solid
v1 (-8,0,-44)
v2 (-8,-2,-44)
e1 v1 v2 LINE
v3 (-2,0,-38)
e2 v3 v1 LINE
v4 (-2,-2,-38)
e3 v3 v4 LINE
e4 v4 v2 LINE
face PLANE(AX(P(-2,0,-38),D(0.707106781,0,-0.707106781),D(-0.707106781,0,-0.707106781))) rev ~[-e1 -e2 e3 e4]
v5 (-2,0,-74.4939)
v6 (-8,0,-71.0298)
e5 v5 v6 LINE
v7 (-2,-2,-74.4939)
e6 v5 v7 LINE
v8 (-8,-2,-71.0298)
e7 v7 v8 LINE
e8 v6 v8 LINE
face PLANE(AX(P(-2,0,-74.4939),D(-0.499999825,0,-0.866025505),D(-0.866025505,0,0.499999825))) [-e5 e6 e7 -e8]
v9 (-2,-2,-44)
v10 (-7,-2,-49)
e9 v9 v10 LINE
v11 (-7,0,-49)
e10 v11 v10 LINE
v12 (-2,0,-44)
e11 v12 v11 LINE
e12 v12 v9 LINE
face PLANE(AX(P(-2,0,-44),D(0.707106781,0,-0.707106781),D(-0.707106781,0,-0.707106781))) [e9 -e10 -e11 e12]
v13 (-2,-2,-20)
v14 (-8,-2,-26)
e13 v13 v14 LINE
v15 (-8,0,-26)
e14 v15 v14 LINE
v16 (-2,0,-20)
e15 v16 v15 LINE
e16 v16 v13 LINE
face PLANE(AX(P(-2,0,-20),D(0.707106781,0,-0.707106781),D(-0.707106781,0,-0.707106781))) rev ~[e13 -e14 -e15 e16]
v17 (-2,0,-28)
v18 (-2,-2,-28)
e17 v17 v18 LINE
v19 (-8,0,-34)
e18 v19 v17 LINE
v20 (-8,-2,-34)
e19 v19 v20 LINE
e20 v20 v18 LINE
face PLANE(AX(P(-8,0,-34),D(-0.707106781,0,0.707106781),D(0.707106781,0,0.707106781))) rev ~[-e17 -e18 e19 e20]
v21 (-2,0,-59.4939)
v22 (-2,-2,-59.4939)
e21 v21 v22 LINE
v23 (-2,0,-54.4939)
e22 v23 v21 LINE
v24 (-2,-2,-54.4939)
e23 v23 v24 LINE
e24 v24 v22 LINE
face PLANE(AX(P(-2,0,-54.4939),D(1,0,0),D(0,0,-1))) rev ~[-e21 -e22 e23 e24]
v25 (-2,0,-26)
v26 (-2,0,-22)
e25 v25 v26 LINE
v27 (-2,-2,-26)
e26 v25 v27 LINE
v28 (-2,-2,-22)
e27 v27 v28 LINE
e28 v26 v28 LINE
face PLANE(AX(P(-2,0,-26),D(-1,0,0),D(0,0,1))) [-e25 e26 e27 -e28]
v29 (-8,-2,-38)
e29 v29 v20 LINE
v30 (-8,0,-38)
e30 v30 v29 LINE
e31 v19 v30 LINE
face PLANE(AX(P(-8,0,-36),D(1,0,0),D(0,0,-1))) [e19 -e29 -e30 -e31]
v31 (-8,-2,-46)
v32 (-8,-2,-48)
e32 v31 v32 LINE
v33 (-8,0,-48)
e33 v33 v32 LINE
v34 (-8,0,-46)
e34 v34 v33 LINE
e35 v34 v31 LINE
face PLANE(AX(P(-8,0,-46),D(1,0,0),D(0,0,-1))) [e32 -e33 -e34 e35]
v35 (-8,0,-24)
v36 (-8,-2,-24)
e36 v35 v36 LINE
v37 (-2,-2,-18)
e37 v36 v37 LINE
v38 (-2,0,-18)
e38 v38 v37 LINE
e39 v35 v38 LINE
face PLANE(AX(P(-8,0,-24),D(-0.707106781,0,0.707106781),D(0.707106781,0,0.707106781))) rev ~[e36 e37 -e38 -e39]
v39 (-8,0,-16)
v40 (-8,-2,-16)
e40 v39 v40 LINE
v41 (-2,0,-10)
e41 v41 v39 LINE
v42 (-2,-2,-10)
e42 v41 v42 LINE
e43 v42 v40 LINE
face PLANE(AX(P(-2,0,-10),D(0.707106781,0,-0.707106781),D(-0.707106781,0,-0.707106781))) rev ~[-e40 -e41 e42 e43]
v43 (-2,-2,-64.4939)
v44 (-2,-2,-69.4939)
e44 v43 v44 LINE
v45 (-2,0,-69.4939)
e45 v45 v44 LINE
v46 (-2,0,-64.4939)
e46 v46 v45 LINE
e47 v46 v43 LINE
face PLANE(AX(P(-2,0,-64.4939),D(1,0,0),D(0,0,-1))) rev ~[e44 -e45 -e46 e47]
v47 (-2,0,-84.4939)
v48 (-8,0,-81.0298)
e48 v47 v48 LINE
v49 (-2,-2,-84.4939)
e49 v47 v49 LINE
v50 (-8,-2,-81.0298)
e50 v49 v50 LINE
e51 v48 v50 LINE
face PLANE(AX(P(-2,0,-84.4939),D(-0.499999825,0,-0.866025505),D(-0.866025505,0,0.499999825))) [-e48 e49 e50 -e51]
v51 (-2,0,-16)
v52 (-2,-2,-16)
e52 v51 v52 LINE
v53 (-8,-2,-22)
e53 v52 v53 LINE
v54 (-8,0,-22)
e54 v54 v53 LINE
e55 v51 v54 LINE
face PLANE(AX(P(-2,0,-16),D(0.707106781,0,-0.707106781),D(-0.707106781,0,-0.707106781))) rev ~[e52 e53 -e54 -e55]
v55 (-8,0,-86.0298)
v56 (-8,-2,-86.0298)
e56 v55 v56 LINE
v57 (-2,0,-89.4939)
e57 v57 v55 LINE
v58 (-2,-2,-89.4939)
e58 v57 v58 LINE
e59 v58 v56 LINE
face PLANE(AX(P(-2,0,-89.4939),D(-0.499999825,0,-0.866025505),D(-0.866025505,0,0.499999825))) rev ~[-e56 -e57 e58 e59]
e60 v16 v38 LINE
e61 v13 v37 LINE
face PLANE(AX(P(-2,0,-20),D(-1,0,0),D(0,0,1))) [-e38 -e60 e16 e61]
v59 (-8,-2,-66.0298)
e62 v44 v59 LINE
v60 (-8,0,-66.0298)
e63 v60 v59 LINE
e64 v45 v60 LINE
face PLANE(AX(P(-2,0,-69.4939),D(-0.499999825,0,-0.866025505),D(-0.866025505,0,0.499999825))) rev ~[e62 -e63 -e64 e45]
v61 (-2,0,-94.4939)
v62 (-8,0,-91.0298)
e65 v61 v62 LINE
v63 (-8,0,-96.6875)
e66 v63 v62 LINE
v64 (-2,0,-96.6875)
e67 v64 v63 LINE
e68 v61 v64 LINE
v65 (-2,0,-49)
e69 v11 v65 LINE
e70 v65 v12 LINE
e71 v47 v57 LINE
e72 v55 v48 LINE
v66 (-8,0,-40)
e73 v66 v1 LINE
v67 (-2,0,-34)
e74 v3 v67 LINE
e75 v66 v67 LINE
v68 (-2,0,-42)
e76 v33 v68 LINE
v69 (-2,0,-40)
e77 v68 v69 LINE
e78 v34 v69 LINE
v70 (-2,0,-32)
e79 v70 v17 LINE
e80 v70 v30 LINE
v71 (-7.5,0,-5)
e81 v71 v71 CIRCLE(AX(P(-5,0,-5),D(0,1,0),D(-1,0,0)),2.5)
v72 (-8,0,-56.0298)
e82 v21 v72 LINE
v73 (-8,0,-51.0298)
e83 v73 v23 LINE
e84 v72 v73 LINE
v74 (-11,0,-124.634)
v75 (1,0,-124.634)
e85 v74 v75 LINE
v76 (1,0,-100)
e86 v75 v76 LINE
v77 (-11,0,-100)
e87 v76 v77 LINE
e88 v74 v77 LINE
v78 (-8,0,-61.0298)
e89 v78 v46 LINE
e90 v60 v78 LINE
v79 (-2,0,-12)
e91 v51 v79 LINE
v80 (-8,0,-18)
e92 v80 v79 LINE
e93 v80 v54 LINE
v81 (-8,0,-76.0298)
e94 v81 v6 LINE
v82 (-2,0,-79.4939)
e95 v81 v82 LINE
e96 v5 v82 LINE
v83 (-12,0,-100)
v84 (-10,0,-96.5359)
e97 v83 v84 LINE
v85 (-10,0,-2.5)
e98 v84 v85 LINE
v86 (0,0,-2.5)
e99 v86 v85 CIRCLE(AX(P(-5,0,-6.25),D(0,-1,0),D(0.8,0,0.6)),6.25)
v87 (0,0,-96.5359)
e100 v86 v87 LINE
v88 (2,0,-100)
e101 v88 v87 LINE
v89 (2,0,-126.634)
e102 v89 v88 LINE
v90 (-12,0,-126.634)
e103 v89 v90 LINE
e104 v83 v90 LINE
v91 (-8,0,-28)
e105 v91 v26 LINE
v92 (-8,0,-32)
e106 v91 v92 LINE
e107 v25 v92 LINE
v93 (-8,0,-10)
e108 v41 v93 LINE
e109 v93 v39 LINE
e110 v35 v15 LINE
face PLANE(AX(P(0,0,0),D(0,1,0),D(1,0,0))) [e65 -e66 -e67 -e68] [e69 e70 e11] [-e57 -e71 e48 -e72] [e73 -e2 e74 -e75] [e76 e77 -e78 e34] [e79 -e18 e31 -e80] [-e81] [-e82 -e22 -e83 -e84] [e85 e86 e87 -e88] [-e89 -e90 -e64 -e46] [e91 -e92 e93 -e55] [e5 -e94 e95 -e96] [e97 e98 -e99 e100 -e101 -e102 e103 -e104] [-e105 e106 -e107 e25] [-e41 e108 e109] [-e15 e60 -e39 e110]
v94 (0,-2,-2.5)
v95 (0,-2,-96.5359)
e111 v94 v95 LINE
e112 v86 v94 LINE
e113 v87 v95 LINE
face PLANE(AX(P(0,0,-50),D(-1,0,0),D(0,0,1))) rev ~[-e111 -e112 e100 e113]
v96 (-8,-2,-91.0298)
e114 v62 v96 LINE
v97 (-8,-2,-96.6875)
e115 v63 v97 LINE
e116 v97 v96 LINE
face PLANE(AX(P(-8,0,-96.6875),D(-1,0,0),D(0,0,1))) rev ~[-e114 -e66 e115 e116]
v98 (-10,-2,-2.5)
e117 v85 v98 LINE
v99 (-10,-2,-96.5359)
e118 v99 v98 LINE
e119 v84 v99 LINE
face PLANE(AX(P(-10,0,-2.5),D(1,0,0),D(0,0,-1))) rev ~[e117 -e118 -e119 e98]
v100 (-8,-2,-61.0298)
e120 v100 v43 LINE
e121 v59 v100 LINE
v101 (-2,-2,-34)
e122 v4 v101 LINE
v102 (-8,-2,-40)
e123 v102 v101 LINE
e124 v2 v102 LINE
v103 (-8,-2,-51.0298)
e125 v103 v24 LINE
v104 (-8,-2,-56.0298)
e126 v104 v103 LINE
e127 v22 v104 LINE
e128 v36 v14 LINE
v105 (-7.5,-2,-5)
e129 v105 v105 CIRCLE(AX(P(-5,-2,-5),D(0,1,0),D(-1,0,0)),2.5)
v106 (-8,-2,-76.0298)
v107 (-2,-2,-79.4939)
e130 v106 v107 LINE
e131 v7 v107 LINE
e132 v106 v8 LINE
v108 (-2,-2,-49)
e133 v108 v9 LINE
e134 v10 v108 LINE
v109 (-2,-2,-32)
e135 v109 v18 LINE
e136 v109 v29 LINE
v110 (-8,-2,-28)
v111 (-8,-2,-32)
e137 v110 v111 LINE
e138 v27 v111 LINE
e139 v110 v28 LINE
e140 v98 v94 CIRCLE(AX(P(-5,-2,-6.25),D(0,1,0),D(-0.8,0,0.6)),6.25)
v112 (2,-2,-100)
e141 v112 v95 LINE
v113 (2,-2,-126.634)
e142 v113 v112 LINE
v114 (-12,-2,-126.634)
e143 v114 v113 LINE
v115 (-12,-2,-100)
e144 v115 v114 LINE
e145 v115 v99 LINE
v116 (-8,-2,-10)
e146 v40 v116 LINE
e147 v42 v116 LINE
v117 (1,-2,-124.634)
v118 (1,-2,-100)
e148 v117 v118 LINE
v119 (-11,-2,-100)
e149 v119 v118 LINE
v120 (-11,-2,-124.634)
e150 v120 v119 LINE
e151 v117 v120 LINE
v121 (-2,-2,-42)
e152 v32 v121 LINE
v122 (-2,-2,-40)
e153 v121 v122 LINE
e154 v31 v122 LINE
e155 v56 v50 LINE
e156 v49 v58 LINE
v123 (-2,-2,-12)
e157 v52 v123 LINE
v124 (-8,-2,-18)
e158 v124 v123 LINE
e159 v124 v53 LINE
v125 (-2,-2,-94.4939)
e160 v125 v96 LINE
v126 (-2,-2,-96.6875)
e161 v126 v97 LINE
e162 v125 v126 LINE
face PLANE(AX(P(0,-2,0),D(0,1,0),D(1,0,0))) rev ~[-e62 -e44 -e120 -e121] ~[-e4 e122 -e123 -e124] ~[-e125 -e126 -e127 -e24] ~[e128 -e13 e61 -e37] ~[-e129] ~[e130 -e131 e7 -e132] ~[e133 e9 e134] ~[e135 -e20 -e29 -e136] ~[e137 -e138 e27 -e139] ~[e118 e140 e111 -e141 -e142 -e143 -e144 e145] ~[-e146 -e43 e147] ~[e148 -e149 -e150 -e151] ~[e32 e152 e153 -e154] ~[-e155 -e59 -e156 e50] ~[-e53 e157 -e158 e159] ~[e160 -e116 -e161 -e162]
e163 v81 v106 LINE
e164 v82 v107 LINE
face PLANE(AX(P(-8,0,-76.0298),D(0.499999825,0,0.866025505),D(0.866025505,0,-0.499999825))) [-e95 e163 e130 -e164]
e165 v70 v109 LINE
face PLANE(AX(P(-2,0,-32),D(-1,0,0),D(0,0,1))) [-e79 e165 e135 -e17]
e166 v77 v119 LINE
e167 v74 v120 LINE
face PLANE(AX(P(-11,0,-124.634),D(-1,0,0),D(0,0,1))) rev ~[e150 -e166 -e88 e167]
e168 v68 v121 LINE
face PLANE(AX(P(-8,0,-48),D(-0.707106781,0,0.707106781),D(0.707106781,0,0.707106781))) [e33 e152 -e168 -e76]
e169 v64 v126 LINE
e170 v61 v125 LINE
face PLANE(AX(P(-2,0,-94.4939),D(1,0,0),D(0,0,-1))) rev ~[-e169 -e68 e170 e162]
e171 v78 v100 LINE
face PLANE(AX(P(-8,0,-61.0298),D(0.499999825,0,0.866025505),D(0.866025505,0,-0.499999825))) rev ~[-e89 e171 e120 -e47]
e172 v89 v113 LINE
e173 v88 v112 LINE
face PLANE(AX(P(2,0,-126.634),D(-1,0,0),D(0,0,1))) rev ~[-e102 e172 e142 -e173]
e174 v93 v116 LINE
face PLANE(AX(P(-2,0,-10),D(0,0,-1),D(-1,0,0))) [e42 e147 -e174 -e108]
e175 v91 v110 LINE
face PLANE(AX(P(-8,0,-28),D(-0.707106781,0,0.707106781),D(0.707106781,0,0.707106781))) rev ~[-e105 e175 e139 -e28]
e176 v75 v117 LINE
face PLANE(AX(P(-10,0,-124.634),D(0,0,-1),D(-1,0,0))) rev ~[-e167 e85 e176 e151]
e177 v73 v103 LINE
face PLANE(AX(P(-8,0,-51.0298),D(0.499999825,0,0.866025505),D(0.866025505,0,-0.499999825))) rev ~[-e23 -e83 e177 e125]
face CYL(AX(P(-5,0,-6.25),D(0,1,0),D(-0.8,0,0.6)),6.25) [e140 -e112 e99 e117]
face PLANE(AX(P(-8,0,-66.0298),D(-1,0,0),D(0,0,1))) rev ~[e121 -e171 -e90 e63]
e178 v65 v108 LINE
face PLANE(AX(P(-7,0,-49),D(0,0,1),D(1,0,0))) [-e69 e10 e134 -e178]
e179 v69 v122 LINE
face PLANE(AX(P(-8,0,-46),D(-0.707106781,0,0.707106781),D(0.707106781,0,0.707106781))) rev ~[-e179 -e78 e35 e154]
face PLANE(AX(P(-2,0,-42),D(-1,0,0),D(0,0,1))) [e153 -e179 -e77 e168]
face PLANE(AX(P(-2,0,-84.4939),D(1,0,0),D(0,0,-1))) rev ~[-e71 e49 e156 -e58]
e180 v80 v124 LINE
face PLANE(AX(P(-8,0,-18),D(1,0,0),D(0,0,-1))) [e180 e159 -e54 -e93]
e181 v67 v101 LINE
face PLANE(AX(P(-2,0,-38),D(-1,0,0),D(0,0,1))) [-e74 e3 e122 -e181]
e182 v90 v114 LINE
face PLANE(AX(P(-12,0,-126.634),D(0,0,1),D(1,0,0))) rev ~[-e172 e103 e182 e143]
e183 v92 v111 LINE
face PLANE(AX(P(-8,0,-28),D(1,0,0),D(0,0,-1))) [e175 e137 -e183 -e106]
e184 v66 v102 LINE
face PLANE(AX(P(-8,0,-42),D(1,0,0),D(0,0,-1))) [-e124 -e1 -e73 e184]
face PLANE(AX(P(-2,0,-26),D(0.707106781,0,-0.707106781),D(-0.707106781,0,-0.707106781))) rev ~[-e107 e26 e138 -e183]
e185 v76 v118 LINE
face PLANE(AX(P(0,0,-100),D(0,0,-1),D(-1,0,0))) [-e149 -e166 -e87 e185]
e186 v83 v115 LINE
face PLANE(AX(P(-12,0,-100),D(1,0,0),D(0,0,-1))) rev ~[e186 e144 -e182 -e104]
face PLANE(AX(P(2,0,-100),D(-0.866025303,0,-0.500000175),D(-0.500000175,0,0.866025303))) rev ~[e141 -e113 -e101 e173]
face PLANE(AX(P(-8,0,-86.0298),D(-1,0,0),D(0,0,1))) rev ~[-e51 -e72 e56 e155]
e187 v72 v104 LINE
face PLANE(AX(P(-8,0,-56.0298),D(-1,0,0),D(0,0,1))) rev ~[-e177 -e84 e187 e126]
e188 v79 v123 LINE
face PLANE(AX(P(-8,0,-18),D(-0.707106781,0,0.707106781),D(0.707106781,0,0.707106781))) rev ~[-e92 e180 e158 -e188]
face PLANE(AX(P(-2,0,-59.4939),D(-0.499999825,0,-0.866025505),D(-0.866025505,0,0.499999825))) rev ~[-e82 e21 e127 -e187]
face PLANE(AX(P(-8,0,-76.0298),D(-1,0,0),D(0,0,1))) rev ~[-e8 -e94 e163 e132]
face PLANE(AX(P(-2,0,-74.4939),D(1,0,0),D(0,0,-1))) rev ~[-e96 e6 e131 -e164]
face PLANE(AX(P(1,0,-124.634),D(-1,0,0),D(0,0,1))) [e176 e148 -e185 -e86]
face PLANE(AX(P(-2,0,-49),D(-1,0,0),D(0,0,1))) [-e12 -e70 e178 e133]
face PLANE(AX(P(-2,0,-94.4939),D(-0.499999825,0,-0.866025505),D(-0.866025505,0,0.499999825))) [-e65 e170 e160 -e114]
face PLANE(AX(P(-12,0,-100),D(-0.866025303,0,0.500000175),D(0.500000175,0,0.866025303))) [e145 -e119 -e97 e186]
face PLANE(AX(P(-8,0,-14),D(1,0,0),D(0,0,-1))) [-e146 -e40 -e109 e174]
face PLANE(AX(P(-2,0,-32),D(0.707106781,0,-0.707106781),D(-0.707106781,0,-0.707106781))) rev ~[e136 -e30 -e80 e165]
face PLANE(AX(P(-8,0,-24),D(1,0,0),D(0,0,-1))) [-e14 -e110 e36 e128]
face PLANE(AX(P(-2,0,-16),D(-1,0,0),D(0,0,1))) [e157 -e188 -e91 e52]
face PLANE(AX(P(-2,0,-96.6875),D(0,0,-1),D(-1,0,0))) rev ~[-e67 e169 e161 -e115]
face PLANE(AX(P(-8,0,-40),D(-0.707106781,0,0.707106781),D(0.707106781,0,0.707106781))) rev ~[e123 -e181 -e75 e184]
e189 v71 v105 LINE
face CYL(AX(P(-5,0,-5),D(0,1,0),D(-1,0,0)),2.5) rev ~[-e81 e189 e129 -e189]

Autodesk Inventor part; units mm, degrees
ref_plane "YZ Plane" through (0, 0, 0) normal (1, 0, 0) x (0, 1, 0)
ref_plane "XZ Plane" through (0, 0, 0) normal (0, 1, 0) x (-1, 0, 0)
ref_plane "XY Plane" through (0, 0, 0) normal (0, 0, 1) x (1, 0, 0)
sketch "Szkic3" plane through (0, 0, 0) normal (0, 1, 0) x (-1, 0, 0)
  line L0 (0, 0) -> (10, 0)
  line L1 (10, 0) -> (10, -50)
  line L2 (10, -50) -> (0, -50)
  line L3 (0, -50) -> (0, 0)
  circle A0 centre (5, -5) radius 2.5
  arc A1 (10, -2.5) -> (0, -2.5) centre (5, -6.25) ccw
  line L4 (8, -50) -> (2, -50)
  line L5 (2, -50) -> (2, -10)
  line L6 (2, -10) -> (8, -10)
  line L7 (8, -10) -> (8, -50)
  line L8 (2, -10) -> (8, -16)
  line L9 (2, -10) -> (10.4853, -10) construction
  line L10 (8, -16) -> (8, -18)
  line L11 (8, -18) -> (2, -12)
  line L12 (2, -10) -> (2, -12)
  line L13 (8, -18) -> (8, -22)
  line L14 (2, -16) -> (8, -22)
  line L15 (8, -24) -> (2, -18)
  line L16 (8, -16) -> (8, -14)
  line L17 (8, -24) -> (8, -26)
  line L18 (2, -20) -> (8, -26)
  line L19 (8, -28) -> (2, -22)
  line L20 (8, -28) -> (8, -32)
  line L21 (2, -26) -> (8, -32)
  line L22 (8, -34) -> (2, -28)
  line L23 (8, -34) -> (8, -36)
  line L24 (2, -26) -> (8, -32)
  line L25 (8, -34) -> (2, -28)
  line L26 (8, -34) -> (8, -38)
  line L27 (2, -32) -> (8, -38)
  line L28 (8, -40) -> (2, -34)
  line L29 (8, -40) -> (8, -42)
  line L30 (2, -32) -> (8, -38)
  line L31 (8, -40) -> (2, -34)
  line L32 (8, -40) -> (8, -44)
  line L33 (2, -38) -> (8, -44)
  line L34 (8, -46) -> (2, -40)
  line L35 (8, -46) -> (8, -48)
  line L36 (2, -38) -> (8, -44)
  line L37 (8, -46) -> (2, -40)
  line L38 (8, -46) -> (8, -50)
  line L39 (8, -46) -> (8, -48)
  line L40 (8, -48) -> (2, -42)
  line L41 (2, -42) -> (2, -44)
  line L42 (2, -44) -> (8, -50)
  line L43 (7, -49) -> (2, -49)
  circle A2 centre (5, -5) radius 3.25
  dimension "d9" = 10
  dimension "d10" = 50
  dimension "d11" = 5
  dimension "d12" = 6
  dimension "d13" = 40
  dimension "d14" = 45
  dimension "d15" = 2
  dimension "d16" = 4
  dimension "d17" = 2
  dimension "d18" = 2
  dimension "d19" = 2
  dimension "d20" = 2
  dimension "d21" = 4
  dimension "d22" = 2
  dimension "d23" = 2
  dimension "d24" = 2
  dimension "d25" = 4
  dimension "d26" = 2
  dimension "d27" = 2
  dimension "d28" = 2
  dimension "d29" = 4
  dimension "d30" = 2
  dimension "d32" = 2
  dimension "d36" = 2
  dimension "d37" = 2
  dimension "d42" = 6.5
extrude "Wyciągnięcie proste2" add sketch "Szkic3" against normal blind 2 contours A1 L1 L2 L7 L6 L5 L3 | L5 L43 L42 L2 | L42 L5 L40 L7 | L34 L5 L33 L7 | L28 L5 L27 L7 | L5 L21 L7 L22 | L5 L18 L7 L19 | L5 L14 L7 L15 | L5 L8 L7 L11 | A2
ref_plane "Płaszczyzna konstrukcyjna1" through (0, 0, -50) normal (0, 0, -1) x (-1, 0, 0)
mirror "Odbij1" about plane through (0, 0, -50) normal (0, 0, -1) of "Wyciągnięcie proste2"
sketch "Szkic4" plane through (0, 0, 0) normal (0, 1, 0) x (1, 0, 0)
  line L0 (-7.5, 91.0504) -> (-2.5, 91.0504)
  line L1 (-2.5, 91.0504) -> (-2.5, 98.6571)
  line L2 (-2.5, 98.6571) -> (-7.5, 98.6571)
  line L3 (-7.5, 98.6571) -> (-7.5, 91.0504)
  point P0 (0, 0)
extrude "Wyciągnięcie proste3" cut sketch "Szkic4" against normal blind 2
sketch "Szkic5" plane through (0, 0, 0) normal (0, 1, 0) x (1, 0, 0)
  line L0 (-10, 2.5) -> (-10, 97.5) projected
  line L1 (-10, 97.5) -> (-10, 67.5)
  line L2 (-10, 67.5) -> (-13, 67.5)
  line L3 (-13, 67.5) -> (-13, 97.5)
  line L4 (-13, 97.5) -> (-10, 97.5)
  arc A0 (0, 97.5) -> (-10, 97.5) centre (-5, 93.75) ccw projected
  line L5 (-5, 100) -> (-5, 49.8742)
  line L6 (-5, 100) -> (45.1258, 100) construction
  line L7 (-13, 67.5) -> (-10, 62.3038)
  line L8 (-13, 67.5) -> (-7, 67.5) construction
  line L9 (-10, 62.3038) -> (-10, 67.5)
  line L10 (0, 2.5) -> (0, 97.5)
  line L11 (0, 67.5) -> (3, 67.5)
  line L12 (3, 67.5) -> (3, 97.5)
  line L13 (3, 97.5) -> (0, 97.5)
  line L14 (3, 67.5) -> (0, 62.3038)
  arc A1 (3, 97.5) -> (-13, 97.5) centre (-5, 94.4495) ccw
  point P0 (0, 0)
  dimension "d43" = 30
  dimension "d44" = 3
  dimension "d45" = 90
  dimension "d46" = 60
extrude "Wyciągnięcie proste4" add sketch "Szkic5" against normal blind 2
sketch "Szkic6" plane through (0, 0, 0) normal (0, 1, 0) x (1, 0, 0)
  line L0 (-10, 62.3038) -> (-10, 2.5) projected
  line L1 (-10, 62.3038) -> (-10, 97.356)
  line L2 (-10, 97.356) -> (0, 97.356)
  line L3 (0, 97.356) -> (0, 62.3038)
  line L4 (0, 62.3038) -> (-10, 62.3038)
  point P0 (0, 0)
extrude "Wyciągnięcie proste5" cut sketch "Szkic6" against normal blind 2
sketch "Szkic7" plane through (0, 0, 0) normal (0, 1, 0) x (1, 0, 0)
  line L0 (-10, 62.3038) -> (-8, 62.3038) projected
  line L1 (-10, 62.3038) -> (-10, 67.4287)
  line L2 (-10, 62.3038) -> (-10, 97.356) projected
  line L3 (-10, 67.4287) -> (0, 67.4287)
  line L4 (0, 62.3038) -> (0, 97.356) projected
  line L5 (0, 62.3038) -> (0, 67.4287)
  line L6 (0, 62.3038) -> (-2, 62.3038) projected
  line L7 (-10, 2.5) -> (-10, 62.3038) projected
  line L8 (0, 62.3038) -> (-10, 62.3038)
  line L9 (-10, 62.3038) -> (-10, 61.2351)
  line L10 (-10, 61.2351) -> (0, 61.2351)
  line L11 (0, 61.2351) -> (0, 62.3038)
  line L12 (-10, 61.2351) -> (0, 61.2351)
  line L13 (0, 2.5) -> (0, 62.3038) projected
  line L14 (0, 61.2351) -> (0, 67.4287)
  line L15 (0, 67.4287) -> (-10, 67.4287)
  line L16 (-10, 61.2351) -> (-10, 67.4287)
  point P0 (0, 0)
extrude "Wyciągnięcie proste6" add sketch "Szkic7" against normal blind 2
sketch "Szkic8" plane through (0, 0, 0) normal (0, 1, 0) x (1, 0, 0)
  line L0 (-7.5, 97.356) -> (-10, 97.356) projected
  line L1 (-10, 97.356) -> (-11, 97.356)
  line L2 (-11, 97.356) -> (-11, 67.4287)
  line L3 (-11, 67.4287) -> (-10, 67.4287)
  line L4 (-10, 67.4287) -> (-10, 97.356)
  line L5 (0, 97.356) -> (1, 97.356)
  line L6 (1, 97.356) -> (1, 67.4287)
  line L7 (1, 67.4287) -> (0, 67.4287)
  line L8 (0, 67.4287) -> (0, 97.356)
  line L9 (-11, 67.4287) -> (1, 67.4287)
  line L10 (1, 67.4287) -> (1, 72.7222)
  line L11 (1, 72.7222) -> (-11, 72.7222)
  line L12 (-11, 72.7222) -> (-11, 67.4287)
  point P0 (0, 0)
  point P1 (0, 72.7222)
  point P2 (-10, 72.7222)
  dimension "d53" = 1
  dimension "d54" = 1
extrude "Wyciągnięcie proste7" cut sketch "Szkic8" against normal blind 2 contours L4 L11 L2 L1 | L8 L5 L6 L11
sketch "Szkic9" plane through (0, 0, 0) normal (0, 1, 0) x (1, 0, 0)
  line L0 (-10, 72.7222) -> (0, 72.7222)
  line L1 (0, 72.7222) -> (0, 67.3617)
  line L2 (0, 67.3617) -> (-10, 67.3617)
  line L3 (-10, 67.3617) -> (-10, 72.7222)
  point P0 (0, 0)
extrude "Wyciągnięcie proste8" add sketch "Szkic9" against normal blind 2
sketch "Szkic10" plane through (0, 0, 0) normal (0, 1, 0) x (1, 0, 0)
  point P0 (0, 0)
split "Podział1" plane through (0, 0, -50) removes the side toward (0, 0, -1)
sketch "Szkic11" plane through (0, 0, 0) normal (0, 1, 0) x (1, 0, 0)
  line L0 (-10, 2.5) -> (-10, 50) projected
  line L1 (-10, 50) -> (0, 50)
  line L2 (0, 50) -> (0, 100)
  line L3 (0, 100) -> (-10, 100)
  line L4 (-10, 100) -> (-10, 50)
  line L5 (-10, 100) -> (0, 100)
  line L6 (0, 100) -> (0, 124.634)
  line L7 (0, 124.634) -> (-10, 124.634)
  line L8 (-10, 124.634) -> (-10, 100)
  line L9 (-10, 124.634) -> (-11, 124.634)
  line L10 (-11, 124.634) -> (-11, 100)
  line L11 (-11, 100) -> (-10, 100)
  line L12 (-10, 100) -> (-10, 124.634)
  line L13 (0, 124.634) -> (1, 124.634)
  line L14 (1, 124.634) -> (1, 100)
  line L15 (1, 100) -> (0, 100)
  line L16 (0, 100) -> (0, 124.634)
  line L17 (-11, 100) -> (-9, 100) construction
  line L18 (1, 100) -> (3, 100) construction
  line L19 (-11, 124.634) -> (1, 124.634)
  line L20 (1, 124.634) -> (1, 126.634)
  line L21 (1, 126.634) -> (-11, 126.634)
  line L22 (-11, 126.634) -> (-11, 124.634)
  line L23 (-11, 100) -> (-12, 100)
  line L24 (-12, 100) -> (-12, 126.634)
  line L25 (-12, 126.634) -> (-11, 126.634)
  line L26 (-11, 126.634) -> (-11, 100)
  line L27 (1, 126.634) -> (2, 126.634)
  line L28 (2, 126.634) -> (2, 100)
  line L29 (2, 100) -> (1, 100)
  line L30 (1, 100) -> (1, 126.634)
  line L31 (-12, 100) -> (-10, 96.5359)
  line L32 (-12, 100) -> (-8, 100) construction
  line L33 (2, 100) -> (0, 96.5359)
  line L34 (2, 100) -> (6, 100) construction
  point P0 (0, 0)
  dimension "d59" = 10
  dimension "d60" = 50
  dimension "d61" = 10
  dimension "d62" = 24.634
  dimension "d63" = 1
  dimension "d64" = 1
  dimension "d67" = 2
  dimension "d68" = 1
  dimension "d69" = 1
  dimension "d70" = 60
  dimension "d71" = 120
extrude "Wyciągnięcie proste9" add sketch "Szkic11" against normal blind 2 contours L4 L3 L2 L1 | L31 L23 L11 L4 | L2 L15 L29 L33 | L24 L25 L22 L10 L23 | L29 L14 L20 L27 L28 | L9 L22 L21 L20 L13 L7
sketch "Szkic12" plane through (0, 0, 0) normal (0, 1, 0) x (1, 0, 0)
  line L0 (-8, 51.0298) -> (-2, 51.0298)
  line L1 (-2, 51.0298) -> (-2, 96.6875)
  line L2 (-2, 96.6875) -> (-8, 96.6875)
  line L3 (-8, 96.6875) -> (-8, 51.0298)
  line L4 (-8, 51.0298) -> (-2, 54.4939)
  line L5 (-8, 51.0298) -> (-1.0718, 51.0298) construction
  line L6 (-2, 54.4939) -> (-2, 59.4939)
  line L7 (-2, 59.4939) -> (-8, 56.0298)
  line L8 (-8, 51.0298) -> (-8, 56.0298)
  line L9 (-8, 56.0298) -> (-8, 61.0298)
  line L10 (-8, 61.0298) -> (-2, 64.4939)
  line L11 (-2, 64.4939) -> (-2, 69.4939)
  line L12 (-2, 69.4939) -> (-8, 66.0298)
  line L13 (-8, 61.0298) -> (-8, 66.0298)
  line L14 (-8, 66.0298) -> (-2, 69.4939)
  line L15 (-2, 74.4939) -> (-8, 71.0298)
  line L16 (-8, 76.0298) -> (-2, 79.4939)
  line L17 (-2, 84.4939) -> (-8, 81.0298)
  line L18 (-8, 71.0298) -> (-2, 74.4939)
  line L19 (-2, 79.4939) -> (-8, 76.0298)
  line L20 (-8, 81.0298) -> (-2, 84.4939)
  line L21 (-2, 89.4939) -> (-8, 86.0298)
  line L22 (-8, 76.0298) -> (-2, 79.4939)
  line L23 (-2, 84.4939) -> (-8, 81.0298)
  line L24 (-8, 86.0298) -> (-2, 89.4939)
  line L25 (-2, 94.4939) -> (-8, 91.0298)
  point P0 (0, 0)
  dimension "d74" = 30
  dimension "d75" = 5
  dimension "d76" = 5
  dimension "d77" = 5
  dimension "d78" = 5
  dimension "d79" = 5
  dimension "d80" = 5
  dimension "d81" = 5
  dimension "d82" = 5
  dimension "d83" = 5
  dimension "d84" = 5
  dimension "d85" = 5
  dimension "d86" = 5
extrude "Wyciągnięcie proste10" cut sketch "Szkic12" against normal blind 2 contours L3 L7 L1 L4 | L3 L12 L1 L10 | L3 L16 L1 L15 | L3 L21 L1 L17 | L3 L2 L1 L25
properties part number "arm_v1(bez_dokladnych_otworow_montazowych)"
